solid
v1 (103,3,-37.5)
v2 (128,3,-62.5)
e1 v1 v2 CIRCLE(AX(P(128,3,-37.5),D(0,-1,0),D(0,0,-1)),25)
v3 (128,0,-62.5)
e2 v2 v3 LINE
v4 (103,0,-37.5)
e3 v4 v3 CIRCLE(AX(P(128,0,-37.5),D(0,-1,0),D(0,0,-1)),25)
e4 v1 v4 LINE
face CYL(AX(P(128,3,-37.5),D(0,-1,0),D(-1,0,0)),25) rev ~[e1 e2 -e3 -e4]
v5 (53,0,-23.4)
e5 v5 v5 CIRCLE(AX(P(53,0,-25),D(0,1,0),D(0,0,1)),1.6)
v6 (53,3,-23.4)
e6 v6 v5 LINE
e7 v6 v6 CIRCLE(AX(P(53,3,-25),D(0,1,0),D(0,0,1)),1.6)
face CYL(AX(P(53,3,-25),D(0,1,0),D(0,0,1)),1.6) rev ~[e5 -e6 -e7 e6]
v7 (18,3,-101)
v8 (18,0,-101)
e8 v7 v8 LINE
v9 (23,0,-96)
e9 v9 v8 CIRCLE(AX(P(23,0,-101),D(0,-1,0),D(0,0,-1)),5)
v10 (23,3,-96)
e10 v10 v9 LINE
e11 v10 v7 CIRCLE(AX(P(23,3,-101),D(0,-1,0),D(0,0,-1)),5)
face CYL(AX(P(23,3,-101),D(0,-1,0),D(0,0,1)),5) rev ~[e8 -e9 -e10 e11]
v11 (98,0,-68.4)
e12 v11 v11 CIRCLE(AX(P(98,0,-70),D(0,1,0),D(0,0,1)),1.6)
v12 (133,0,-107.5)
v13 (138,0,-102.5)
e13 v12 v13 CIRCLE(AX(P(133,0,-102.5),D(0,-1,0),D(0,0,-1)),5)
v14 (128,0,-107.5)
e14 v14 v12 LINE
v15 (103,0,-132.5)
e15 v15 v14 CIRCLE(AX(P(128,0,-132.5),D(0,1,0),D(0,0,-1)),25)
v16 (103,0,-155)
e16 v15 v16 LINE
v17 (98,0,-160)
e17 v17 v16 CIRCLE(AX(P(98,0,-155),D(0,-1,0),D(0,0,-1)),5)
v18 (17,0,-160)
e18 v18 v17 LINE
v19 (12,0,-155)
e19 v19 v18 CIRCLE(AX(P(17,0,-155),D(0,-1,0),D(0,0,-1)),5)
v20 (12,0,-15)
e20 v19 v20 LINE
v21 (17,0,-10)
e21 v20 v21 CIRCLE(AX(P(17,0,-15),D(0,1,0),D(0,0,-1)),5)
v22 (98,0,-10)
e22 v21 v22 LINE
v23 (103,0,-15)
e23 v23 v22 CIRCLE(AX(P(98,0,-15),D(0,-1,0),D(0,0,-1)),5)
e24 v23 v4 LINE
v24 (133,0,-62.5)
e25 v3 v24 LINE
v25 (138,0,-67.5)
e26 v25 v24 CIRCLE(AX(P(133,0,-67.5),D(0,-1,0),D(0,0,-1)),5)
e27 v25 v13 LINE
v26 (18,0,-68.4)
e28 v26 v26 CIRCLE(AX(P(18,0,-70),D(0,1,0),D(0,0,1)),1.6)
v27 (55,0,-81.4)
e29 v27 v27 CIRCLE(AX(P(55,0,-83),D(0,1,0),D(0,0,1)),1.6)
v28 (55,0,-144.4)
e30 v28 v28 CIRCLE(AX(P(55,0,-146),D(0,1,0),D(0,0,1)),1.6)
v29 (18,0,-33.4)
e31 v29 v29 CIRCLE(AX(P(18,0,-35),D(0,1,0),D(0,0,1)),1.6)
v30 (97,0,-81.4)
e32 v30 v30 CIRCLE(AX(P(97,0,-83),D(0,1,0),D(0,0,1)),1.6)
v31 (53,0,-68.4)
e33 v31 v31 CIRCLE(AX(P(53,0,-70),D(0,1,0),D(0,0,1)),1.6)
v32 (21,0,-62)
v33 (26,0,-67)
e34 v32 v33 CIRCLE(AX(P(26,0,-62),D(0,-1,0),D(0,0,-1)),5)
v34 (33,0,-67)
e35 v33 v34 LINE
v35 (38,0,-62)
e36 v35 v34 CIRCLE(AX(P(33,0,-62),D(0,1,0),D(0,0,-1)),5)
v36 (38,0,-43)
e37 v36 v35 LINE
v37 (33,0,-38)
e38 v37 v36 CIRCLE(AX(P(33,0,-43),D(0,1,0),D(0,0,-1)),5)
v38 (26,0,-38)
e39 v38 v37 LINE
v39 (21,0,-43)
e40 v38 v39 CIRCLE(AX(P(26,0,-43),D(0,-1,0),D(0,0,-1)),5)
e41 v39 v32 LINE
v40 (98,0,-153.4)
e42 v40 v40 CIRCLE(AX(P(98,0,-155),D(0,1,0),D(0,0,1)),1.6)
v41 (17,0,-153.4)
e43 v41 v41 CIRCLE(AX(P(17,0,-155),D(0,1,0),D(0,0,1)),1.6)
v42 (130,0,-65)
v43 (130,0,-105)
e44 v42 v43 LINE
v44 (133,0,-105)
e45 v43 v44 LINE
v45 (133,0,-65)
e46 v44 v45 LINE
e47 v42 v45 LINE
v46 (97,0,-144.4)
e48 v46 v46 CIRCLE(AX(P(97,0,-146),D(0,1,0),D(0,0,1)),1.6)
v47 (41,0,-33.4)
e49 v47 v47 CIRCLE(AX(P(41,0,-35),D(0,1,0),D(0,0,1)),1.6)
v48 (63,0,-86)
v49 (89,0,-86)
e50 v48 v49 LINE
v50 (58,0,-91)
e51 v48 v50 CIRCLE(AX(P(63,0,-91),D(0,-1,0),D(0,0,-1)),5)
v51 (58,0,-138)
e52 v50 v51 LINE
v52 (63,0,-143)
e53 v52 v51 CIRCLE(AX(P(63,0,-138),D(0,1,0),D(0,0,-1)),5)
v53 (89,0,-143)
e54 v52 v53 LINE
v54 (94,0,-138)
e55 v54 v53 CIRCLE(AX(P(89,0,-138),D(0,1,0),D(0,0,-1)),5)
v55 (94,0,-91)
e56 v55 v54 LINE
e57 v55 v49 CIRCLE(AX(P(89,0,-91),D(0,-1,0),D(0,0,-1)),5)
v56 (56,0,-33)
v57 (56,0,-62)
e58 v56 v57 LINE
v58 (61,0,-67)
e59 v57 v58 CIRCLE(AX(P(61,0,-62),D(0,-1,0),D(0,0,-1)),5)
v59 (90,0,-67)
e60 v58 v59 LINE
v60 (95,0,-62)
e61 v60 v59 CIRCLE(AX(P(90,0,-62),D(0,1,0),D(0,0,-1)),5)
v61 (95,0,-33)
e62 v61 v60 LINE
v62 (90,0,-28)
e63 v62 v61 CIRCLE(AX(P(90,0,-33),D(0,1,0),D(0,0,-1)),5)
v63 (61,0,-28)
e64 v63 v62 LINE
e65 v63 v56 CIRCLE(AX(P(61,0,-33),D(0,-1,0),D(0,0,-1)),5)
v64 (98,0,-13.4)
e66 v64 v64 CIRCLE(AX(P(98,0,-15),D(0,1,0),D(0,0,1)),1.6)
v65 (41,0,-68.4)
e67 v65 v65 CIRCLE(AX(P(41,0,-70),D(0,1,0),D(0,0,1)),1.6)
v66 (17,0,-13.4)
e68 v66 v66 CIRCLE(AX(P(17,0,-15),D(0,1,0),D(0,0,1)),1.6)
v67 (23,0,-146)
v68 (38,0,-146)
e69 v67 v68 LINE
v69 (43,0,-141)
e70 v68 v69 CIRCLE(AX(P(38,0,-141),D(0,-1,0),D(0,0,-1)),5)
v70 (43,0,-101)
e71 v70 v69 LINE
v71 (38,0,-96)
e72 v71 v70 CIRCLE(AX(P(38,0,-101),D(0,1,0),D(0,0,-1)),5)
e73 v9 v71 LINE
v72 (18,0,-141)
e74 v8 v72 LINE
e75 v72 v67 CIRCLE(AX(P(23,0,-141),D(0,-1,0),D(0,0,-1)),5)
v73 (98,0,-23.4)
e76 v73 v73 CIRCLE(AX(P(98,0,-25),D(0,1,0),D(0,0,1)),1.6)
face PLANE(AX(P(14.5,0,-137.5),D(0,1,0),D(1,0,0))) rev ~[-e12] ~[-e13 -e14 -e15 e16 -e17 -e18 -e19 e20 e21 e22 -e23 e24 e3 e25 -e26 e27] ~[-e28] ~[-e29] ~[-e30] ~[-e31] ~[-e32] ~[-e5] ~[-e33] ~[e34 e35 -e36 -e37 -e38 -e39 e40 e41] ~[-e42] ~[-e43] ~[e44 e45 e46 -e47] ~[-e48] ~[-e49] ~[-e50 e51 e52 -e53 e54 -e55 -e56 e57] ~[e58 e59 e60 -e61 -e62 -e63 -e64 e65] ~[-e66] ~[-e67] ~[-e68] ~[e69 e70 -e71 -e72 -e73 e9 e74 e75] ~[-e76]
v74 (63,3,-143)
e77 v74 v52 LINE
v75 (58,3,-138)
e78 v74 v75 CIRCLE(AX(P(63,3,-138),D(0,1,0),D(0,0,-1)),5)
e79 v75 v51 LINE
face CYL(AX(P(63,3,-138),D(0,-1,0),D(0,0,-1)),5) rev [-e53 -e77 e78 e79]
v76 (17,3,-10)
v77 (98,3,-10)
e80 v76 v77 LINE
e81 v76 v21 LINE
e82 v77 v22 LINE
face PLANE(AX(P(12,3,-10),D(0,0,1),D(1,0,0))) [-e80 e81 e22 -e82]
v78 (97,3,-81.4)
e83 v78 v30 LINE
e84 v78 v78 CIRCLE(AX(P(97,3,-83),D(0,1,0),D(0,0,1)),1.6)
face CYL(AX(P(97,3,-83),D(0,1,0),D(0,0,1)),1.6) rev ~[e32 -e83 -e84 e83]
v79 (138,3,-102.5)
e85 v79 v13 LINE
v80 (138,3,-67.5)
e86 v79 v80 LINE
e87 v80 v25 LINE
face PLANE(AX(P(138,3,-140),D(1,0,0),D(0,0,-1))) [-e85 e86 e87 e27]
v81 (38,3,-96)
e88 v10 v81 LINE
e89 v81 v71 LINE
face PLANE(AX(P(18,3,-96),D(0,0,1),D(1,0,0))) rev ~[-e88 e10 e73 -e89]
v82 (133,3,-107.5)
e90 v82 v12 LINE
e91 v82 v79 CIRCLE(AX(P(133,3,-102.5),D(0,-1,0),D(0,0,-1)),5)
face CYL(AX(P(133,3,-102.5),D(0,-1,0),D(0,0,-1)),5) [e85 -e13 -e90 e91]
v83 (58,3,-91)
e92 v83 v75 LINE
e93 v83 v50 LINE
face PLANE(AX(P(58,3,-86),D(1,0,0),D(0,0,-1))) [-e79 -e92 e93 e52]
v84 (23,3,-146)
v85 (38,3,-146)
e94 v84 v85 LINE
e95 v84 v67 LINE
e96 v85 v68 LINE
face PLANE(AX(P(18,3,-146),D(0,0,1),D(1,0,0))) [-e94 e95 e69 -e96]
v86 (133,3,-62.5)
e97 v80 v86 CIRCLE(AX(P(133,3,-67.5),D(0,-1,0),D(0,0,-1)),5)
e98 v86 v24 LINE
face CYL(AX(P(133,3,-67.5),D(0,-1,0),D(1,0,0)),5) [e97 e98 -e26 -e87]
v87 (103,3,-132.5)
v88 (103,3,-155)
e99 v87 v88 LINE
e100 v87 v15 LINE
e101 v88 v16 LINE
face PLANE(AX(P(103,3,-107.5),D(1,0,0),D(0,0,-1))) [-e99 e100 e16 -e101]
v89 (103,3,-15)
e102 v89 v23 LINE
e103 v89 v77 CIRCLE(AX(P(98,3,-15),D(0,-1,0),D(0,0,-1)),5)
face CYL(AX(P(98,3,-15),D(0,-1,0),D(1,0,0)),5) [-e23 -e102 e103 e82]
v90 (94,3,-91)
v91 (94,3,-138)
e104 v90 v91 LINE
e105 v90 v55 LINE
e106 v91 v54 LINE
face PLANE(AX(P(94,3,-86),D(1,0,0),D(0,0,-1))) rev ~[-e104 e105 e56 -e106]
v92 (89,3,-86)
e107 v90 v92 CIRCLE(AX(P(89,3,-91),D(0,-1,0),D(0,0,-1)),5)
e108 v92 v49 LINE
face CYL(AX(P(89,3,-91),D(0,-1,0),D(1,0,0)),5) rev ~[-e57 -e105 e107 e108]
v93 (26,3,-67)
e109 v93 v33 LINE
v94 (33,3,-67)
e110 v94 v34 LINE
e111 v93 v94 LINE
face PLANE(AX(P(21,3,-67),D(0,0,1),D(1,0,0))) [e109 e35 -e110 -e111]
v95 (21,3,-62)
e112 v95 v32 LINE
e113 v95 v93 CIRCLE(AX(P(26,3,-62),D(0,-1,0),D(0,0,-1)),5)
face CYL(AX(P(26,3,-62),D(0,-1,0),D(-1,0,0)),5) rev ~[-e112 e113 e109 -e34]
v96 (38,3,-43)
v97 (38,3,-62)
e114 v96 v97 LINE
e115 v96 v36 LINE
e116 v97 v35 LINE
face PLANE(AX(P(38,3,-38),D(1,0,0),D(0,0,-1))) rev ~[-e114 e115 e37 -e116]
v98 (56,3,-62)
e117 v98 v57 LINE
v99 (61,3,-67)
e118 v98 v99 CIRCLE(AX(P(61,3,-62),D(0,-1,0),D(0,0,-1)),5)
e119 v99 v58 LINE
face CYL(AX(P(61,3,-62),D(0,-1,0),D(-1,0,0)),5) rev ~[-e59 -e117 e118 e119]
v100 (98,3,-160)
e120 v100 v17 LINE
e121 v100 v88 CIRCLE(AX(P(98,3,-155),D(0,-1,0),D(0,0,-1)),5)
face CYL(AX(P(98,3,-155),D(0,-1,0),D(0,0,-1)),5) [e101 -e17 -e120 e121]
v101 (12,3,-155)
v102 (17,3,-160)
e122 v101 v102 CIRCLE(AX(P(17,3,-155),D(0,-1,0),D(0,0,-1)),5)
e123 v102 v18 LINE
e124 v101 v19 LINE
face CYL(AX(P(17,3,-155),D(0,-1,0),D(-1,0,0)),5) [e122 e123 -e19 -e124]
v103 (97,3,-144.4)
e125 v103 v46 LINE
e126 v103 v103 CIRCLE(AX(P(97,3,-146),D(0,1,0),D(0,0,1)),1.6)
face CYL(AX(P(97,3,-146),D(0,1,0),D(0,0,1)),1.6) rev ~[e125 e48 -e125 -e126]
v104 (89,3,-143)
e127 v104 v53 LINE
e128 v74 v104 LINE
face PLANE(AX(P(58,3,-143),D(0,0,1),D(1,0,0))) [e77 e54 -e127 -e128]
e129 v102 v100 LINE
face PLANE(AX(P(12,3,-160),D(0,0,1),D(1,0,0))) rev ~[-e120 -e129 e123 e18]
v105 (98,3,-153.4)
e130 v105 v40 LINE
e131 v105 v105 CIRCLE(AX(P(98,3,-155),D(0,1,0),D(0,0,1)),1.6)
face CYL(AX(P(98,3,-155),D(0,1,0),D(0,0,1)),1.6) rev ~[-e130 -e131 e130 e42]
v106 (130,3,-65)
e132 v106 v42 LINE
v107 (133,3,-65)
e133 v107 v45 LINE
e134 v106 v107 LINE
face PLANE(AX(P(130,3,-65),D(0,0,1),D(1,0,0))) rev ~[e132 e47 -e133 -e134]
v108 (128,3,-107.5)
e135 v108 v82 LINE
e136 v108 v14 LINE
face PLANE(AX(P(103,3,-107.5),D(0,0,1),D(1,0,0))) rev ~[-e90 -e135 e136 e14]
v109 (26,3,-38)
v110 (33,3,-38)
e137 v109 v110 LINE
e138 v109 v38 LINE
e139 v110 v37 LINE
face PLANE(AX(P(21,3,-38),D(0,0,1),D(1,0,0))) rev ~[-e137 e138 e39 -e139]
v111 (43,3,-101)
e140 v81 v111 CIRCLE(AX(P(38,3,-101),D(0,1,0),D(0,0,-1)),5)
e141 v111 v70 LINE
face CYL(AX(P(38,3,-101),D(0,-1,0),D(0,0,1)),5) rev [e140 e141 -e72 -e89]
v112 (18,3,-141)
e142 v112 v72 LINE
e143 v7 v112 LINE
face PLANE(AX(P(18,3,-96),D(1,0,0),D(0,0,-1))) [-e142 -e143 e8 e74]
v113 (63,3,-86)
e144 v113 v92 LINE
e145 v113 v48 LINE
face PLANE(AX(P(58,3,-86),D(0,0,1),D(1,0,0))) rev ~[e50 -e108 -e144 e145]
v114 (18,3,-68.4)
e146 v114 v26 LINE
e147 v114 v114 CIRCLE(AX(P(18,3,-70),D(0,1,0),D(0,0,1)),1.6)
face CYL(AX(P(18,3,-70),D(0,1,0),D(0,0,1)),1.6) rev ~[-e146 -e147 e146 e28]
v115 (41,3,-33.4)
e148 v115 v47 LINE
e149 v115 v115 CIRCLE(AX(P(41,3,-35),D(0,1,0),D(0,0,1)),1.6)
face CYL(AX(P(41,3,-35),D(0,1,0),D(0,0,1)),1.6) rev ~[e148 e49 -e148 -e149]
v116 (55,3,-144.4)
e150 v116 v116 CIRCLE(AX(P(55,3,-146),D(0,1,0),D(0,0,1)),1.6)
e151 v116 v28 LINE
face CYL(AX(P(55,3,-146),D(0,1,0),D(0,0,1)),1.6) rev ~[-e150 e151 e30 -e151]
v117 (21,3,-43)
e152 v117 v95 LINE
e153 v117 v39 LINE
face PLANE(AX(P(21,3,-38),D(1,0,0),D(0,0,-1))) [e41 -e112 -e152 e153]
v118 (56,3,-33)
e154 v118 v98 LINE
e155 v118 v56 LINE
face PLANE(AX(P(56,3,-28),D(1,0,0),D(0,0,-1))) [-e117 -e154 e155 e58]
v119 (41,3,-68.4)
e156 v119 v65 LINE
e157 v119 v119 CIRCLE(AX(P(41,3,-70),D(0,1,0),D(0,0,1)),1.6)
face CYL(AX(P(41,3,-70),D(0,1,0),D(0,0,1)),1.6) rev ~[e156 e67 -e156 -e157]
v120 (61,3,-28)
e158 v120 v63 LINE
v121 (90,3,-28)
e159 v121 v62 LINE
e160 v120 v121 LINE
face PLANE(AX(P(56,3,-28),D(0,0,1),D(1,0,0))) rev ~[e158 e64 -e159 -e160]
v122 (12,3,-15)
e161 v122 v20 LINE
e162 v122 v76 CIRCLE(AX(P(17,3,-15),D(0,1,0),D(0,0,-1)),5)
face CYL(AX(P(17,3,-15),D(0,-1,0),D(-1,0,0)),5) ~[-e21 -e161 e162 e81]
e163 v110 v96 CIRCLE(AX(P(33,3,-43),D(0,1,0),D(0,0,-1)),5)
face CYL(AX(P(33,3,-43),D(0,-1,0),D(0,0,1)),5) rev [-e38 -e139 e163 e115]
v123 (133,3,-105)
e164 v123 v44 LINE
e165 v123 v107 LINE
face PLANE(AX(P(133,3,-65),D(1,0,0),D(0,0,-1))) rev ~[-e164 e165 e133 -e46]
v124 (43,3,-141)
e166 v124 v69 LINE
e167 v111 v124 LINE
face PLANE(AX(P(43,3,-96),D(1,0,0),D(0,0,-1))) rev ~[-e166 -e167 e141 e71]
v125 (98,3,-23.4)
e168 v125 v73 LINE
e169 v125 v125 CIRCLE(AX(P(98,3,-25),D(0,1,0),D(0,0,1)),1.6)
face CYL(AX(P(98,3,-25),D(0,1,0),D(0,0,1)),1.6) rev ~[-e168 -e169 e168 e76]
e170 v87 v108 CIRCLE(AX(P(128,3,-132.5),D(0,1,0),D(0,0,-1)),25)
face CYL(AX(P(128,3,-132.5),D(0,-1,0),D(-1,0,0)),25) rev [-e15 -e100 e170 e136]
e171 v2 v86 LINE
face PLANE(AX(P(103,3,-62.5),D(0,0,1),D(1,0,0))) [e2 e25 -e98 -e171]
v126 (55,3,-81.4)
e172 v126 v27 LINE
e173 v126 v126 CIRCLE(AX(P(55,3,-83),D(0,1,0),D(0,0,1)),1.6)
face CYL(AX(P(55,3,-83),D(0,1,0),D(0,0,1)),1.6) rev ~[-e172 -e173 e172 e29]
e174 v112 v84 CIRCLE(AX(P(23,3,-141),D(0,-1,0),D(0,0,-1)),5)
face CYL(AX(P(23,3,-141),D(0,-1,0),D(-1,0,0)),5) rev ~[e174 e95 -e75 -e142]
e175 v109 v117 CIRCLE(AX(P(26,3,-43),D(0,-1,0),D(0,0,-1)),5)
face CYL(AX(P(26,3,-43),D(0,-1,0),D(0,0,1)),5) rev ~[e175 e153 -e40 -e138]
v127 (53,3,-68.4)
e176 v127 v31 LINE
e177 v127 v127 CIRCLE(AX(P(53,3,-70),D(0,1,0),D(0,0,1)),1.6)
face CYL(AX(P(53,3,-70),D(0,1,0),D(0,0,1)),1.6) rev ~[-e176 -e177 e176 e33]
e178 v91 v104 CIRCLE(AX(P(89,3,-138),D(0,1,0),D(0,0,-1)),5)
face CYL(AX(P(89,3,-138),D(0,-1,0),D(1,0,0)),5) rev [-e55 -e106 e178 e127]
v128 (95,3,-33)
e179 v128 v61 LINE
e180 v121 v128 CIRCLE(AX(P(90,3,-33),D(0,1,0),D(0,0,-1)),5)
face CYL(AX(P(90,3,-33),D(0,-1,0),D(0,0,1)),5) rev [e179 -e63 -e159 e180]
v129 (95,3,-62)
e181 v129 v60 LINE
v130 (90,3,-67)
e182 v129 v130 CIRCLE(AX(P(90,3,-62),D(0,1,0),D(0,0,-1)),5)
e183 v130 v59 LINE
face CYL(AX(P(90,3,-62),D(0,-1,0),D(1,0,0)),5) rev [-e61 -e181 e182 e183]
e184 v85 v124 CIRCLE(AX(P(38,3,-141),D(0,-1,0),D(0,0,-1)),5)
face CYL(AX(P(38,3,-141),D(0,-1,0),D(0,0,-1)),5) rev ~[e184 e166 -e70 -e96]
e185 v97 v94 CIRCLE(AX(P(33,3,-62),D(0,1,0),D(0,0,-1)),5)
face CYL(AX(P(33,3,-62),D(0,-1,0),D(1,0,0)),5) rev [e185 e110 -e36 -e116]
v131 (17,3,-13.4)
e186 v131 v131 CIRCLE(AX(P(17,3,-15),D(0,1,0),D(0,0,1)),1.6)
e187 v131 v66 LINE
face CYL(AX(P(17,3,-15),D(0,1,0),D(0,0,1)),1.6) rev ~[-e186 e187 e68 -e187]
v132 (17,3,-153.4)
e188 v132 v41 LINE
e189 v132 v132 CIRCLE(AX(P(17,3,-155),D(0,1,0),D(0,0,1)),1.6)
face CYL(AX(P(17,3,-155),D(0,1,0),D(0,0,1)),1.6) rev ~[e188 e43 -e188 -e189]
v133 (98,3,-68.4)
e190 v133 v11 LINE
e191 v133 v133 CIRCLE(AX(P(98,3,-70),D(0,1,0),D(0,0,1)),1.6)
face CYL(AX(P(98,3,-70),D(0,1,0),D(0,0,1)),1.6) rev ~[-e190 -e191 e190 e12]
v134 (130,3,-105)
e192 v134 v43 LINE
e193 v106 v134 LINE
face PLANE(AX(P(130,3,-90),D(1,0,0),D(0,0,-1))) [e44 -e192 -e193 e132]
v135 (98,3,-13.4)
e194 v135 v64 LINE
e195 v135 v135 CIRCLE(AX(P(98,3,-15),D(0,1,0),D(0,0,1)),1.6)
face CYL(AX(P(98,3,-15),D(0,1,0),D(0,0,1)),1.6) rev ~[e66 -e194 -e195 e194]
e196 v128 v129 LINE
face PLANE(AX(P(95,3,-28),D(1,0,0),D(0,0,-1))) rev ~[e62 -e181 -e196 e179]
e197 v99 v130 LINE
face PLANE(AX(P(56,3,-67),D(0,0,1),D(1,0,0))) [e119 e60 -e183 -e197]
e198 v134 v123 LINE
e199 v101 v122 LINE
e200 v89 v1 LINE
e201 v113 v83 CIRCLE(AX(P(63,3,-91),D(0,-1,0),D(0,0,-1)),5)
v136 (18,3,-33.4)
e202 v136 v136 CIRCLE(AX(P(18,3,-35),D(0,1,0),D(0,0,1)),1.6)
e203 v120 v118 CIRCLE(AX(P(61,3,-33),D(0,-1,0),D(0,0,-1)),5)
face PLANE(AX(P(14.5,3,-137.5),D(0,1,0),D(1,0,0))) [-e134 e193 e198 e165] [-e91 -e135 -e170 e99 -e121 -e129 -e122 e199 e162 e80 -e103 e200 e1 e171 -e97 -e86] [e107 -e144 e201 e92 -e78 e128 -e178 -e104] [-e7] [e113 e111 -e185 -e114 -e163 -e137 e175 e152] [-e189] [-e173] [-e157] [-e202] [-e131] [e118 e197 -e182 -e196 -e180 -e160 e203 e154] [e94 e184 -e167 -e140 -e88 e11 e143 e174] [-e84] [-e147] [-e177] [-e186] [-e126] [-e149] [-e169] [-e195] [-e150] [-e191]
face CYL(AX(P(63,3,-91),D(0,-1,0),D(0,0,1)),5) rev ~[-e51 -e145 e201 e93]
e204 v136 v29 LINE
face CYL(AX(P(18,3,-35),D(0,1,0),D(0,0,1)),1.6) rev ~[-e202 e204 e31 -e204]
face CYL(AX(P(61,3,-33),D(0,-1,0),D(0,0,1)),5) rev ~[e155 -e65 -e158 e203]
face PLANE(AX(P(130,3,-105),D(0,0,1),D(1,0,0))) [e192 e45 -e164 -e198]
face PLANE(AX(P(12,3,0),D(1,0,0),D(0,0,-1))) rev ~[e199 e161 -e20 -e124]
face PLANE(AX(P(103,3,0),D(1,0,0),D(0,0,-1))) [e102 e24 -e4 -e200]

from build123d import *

# Parameters (mm, degrees)
SKETCH1_W           = 138
SKETCH1_H           = 170
BOSS_EXTRUDE1_DEPTH = 3
SKETCH2_R           = 2.1
SKETCH2_W           = 29
SKETCH2_H           = 30
CUT_EXTRUDE1_DEPTH  = 3
SKETCH3_R           = 2.1
CUT_EXTRUDE2_DEPTH  = 219.981734398
SKETCH5_W           = 29
SKETCH5_H           = 35
CUT_EXTRUDE3_DEPTH  = 219.981734398
SKETCH6_R           = 1.6
SKETCH6_W           = 3
SKETCH6_H           = 15
CUT_EXTRUDE4_DEPTH  = 219.981734398
SKETCH9_W           = 29
SKETCH9_H           = 30
BOSS_EXTRUDE2_DEPTH = 3
SKETCH15_W          = 29
SKETCH15_H          = 65
BOSS_EXTRUDE3_DEPTH = 3
SKETCH14_R          = 1.6
SKETCH14_W          = 25
SKETCH14_H          = 50
SKETCH14_W_2        = 36
SKETCH14_H_2        = 57
SKETCH14_W_3        = 39
SKETCH14_H_3        = 39
SKETCH14_W_4        = 17
SKETCH14_H_4        = 29
CUT_EXTRUDE8_DEPTH  = 219.981734398
SKETCH16_W          = 35
SKETCH16_H          = 62.5
SKETCH16_W_2        = 12
SKETCH16_H_2        = 170
CUT_EXTRUDE9_DEPTH  = 219.981734398
SKETCH17_W          = 3
SKETCH17_H          = 40
SKETCH17_W_2        = 91
SKETCH17_H_2        = 10
CUT_EXTRUDE10_DEPTH = 219.981734398
SKETCH18_W          = 10
SKETCH18_H          = 10
BOSS_EXTRUDE4_DEPTH = 3
FILLET5_R           = 5
FILLET6_R           = 25
FILLET7_R           = 5
SKETCH20_R          = 1.6
CUT_EXTRUDE11_DEPTH = 212.3125647
FILLET8_R           = 5


with BuildPart() as part:
    # Sketch1 → Boss-Extrude1 (new body)
    with BuildSketch(Plane(origin=(0, 0, 0), x_dir=(1, 0, 0), z_dir=(0, 1, 0))):
        with Locations((69, 85)):
            Rectangle(SKETCH1_W, SKETCH1_H)
    extrude(amount=BOSS_EXTRUDE1_DEPTH)

    # Sketch2 → Cut-Extrude1 (cut)
    with BuildSketch(Plane(origin=(0, 3, 0), x_dir=(1, 0, 0), z_dir=(0, 1, 0))):
        with Locations(Location((69, 165, 0), (0, 0, 270))):
            Circle(SKETCH2_R)
        with Locations(Location((69, 5, 0), (0, 0, 270))):
            Circle(SKETCH2_R)
        with Locations((14.5, 155)):
            Rectangle(SKETCH2_W, SKETCH2_H)
        with Locations((123.5, 155)):
            Rectangle(SKETCH2_W, SKETCH2_H)
        with Locations((123.5, 15)):
            Rectangle(SKETCH2_W, SKETCH2_H)
        with Locations((14.5, 15)):
            Rectangle(SKETCH2_W, SKETCH2_H)
    extrude(amount=-CUT_EXTRUDE1_DEPTH, mode=Mode.SUBTRACT)

    # Sketch3 → Cut-Extrude2 (cut, through all)
    with BuildSketch(Plane(origin=(0, 3, 0), x_dir=(1, 0, 0), z_dir=(0, 1, 0))):
        with Locations(Location((14, 125, 0), (0, 0, 270))):
            Circle(SKETCH3_R)
        with Locations(Location((14, 45, 0), (0, 0, 270))):
            Circle(SKETCH3_R)
        with Locations(Location((14, 85, 0), (0, 0, 270))):
            Circle(SKETCH3_R)
        with Locations(Location((124, 45, 0), (0, 0, 90))):
            Circle(SKETCH3_R)
        with Locations(Location((124, 125, 0), (0, 0, 90))):
            Circle(SKETCH3_R)
    extrude(amount=-CUT_EXTRUDE2_DEPTH, mode=Mode.SUBTRACT)

    # Sketch5 → Cut-Extrude3 (cut, through all)
    with BuildSketch(Plane(origin=(0, 3, 0), x_dir=(1, 0, 0), z_dir=(0, 1, 0))):
        with Locations((14.5, 122.5)):
            Rectangle(SKETCH5_W, SKETCH5_H)
        with Locations((14.5, 47.5)):
            Rectangle(SKETCH5_W, SKETCH5_H)
    extrude(amount=-CUT_EXTRUDE3_DEPTH, mode=Mode.SUBTRACT)

    # Sketch6 → Cut-Extrude4 (cut, through all)
    with BuildSketch(Plane(origin=(0, 3, 0), x_dir=(1, 0, 0), z_dir=(0, 1, 0))):
        with Locations(Location((131.5, 113, 0), (0, 0, 270))):
            Circle(SKETCH6_R)
        with Locations(Location((131.5, 57, 0), (0, 0, 270))):
            Circle(SKETCH6_R)
        with Locations((131.5, 97.5)):
            Rectangle(SKETCH6_W, SKETCH6_H)
        with Locations((131.5, 72.5)):
            Rectangle(SKETCH6_W, SKETCH6_H)
    extrude(amount=-CUT_EXTRUDE4_DEPTH, mode=Mode.SUBTRACT)

    # Sketch9 → Boss-Extrude2 (add)
    with BuildSketch(Plane(origin=(0, 3, 0), x_dir=(1, 0, 0), z_dir=(0, 1, 0))):
        with Locations((123.5, 155)):
            Rectangle(SKETCH9_W, SKETCH9_H)
        with Locations((123.5, 15)):
            Rectangle(SKETCH9_W, SKETCH9_H)
    extrude(amount=-BOSS_EXTRUDE2_DEPTH)

    # Sketch15 → Boss-Extrude3 (add)
    with BuildSketch(Plane(origin=(0, 3, 0), x_dir=(1, 0, 0), z_dir=(0, 1, 0))):
        with Locations((14.5, 137.5)):
            Rectangle(SKETCH15_W, SKETCH15_H)
        with Locations((14.5, 32.5)):
            Rectangle(SKETCH15_W, SKETCH15_H)
    extrude(amount=-BOSS_EXTRUDE3_DEPTH)

    # Sketch14 → Cut-Extrude8 (cut, through all)
    with BuildSketch(Plane(origin=(0, 3, 0), x_dir=(1, 0, 0), z_dir=(0, 1, 0))):
        with Locations(Location((55, 146, 0), (0, 0, 270))):
            Circle(SKETCH14_R)
        with Locations(Location((97, 146, 0), (0, 0, 270))):
            Circle(SKETCH14_R)
        with Locations(Location((55, 83, 0), (0, 0, 270))):
            Circle(SKETCH14_R)
        with Locations(Location((97, 83, 0), (0, 0, 270))):
            Circle(SKETCH14_R)
        with Locations(Location((53, 70, 0), (0, 0, 270))):
            Circle(SKETCH14_R)
        with Locations(Location((98, 70, 0), (0, 0, 270))):
            Circle(SKETCH14_R)
        with Locations(Location((53, 25, 0), (0, 0, 270))):
            Circle(SKETCH14_R)
        with Locations(Location((98, 25, 0), (0, 0, 270))):
            Circle(SKETCH14_R)
        with Locations(Location((41, 70, 0), (0, 0, 270))):
            Circle(SKETCH14_R)
        with Locations(Location((18, 70, 0), (0, 0, 270))):
            Circle(SKETCH14_R)
        with Locations(Location((18, 35, 0), (0, 0, 270))):
            Circle(SKETCH14_R)
        with Locations(Location((41, 35, 0), (0, 0, 270))):
            Circle(SKETCH14_R)
        with Locations((30.5, 121)):
            Rectangle(SKETCH14_W, SKETCH14_H)
        with Locations((76, 114.5)):
            Rectangle(SKETCH14_W_2, SKETCH14_H_2)
        with Locations((75.5, 47.5)):
            Rectangle(SKETCH14_W_3, SKETCH14_H_3)
        with Locations((29.5, 52.5)):
            Rectangle(SKETCH14_W_4, SKETCH14_H_4)
    extrude(amount=-CUT_EXTRUDE8_DEPTH, mode=Mode.SUBTRACT)

    # Sketch16 → Cut-Extrude9 (cut, through all)
    with BuildSketch(Plane(origin=(0, 3, 0), x_dir=(1, 0, 0), z_dir=(0, 1, 0))):
        with Locations((120.5, 138.75)):
            Rectangle(SKETCH16_W, SKETCH16_H)
        with Locations((120.5, 31.25)):
            Rectangle(SKETCH16_W, SKETCH16_H)
        with Locations((6, 85)):
            Rectangle(SKETCH16_W_2, SKETCH16_H_2)
    extrude(amount=-CUT_EXTRUDE9_DEPTH, mode=Mode.SUBTRACT)

    # Sketch17 → Cut-Extrude10 (cut, through all)
    with BuildSketch(Plane(origin=(0, 3, 0), x_dir=(1, 0, 0), z_dir=(0, 1, 0))):
        with Locations((131.5, 85)):
            Rectangle(SKETCH17_W, SKETCH17_H)
        with Locations((57.5, 165)):
            Rectangle(SKETCH17_W_2, SKETCH17_H_2)
        with Locations((57.5, 5)):
            Rectangle(SKETCH17_W_2, SKETCH17_H_2)
    extrude(amount=-CUT_EXTRUDE10_DEPTH, mode=Mode.SUBTRACT)

    # Sketch18 → Boss-Extrude4 (add)
    with BuildSketch(Plane(origin=(0, 3, 0), x_dir=(1, 0, 0), z_dir=(0, 1, 0))):
        with Locations((17, 85)):
            Rectangle(SKETCH18_W, SKETCH18_H)
    extrude(amount=-BOSS_EXTRUDE4_DEPTH)

    # Fillet5
    fillet5_edges = [part.edges().sort_by_distance(p)[0] for p in [
        (138, 1.5, -62.5),
        (138, 1.5, -107.5),
        (12, 1.5, -160),
        (103, 1.5, -160),
        (12, 1.5, -10),
        (103, 1.5, -10),
    ]]
    fillet(fillet5_edges, radius=FILLET5_R)

    # Fillet6
    fillet6_edges = [part.edges().sort_by_distance(p)[0] for p in [
        (103, 1.5, -62.5),
        (103, 1.5, -107.5),
    ]]
    fillet(fillet6_edges, radius=FILLET6_R)

    # Fillet7
    fillet7_edges = [part.edges().sort_by_distance(p)[0] for p in [
        (18, 1.5, -96),
        (18, 1.5, -146),
        (43, 1.5, -146),
        (43, 1.5, -96),
    ]]
    fillet(fillet7_edges, radius=FILLET7_R)

    # Sketch20 → Cut-Extrude11 (cut, through all)
    with BuildSketch(Plane(origin=(0, 3, 0), x_dir=(1, 0, 0), z_dir=(0, 1, 0))):
        with Locations(Location((17, 155, 0), (0, 0, 270))):
            Circle(SKETCH20_R)
        with Locations(Location((98, 155, 0), (0, 0, 270))):
            Circle(SKETCH20_R)
        with Locations(Location((17, 15, 0), (0, 0, 270))):
            Circle(SKETCH20_R)
        with Locations(Location((98, 15, 0), (0, 0, 270))):
            Circle(SKETCH20_R)
    extrude(amount=-CUT_EXTRUDE11_DEPTH, mode=Mode.SUBTRACT)

    # Fillet8
    fillet8_edges = [part.edges().sort_by_distance(p)[0] for p in [
        (56, 1.5, -28),
        (56, 1.5, -67),
        (95, 1.5, -67),
        (95, 1.5, -28),
        (38, 1.5, -38),
        (21, 1.5, -38),
        (21, 1.5, -67),
        (38, 1.5, -67),
        (58, 1.5, -86),
        (58, 1.5, -143),
        (94, 1.5, -143),
        (94, 1.5, -86),
    ]]
    fillet(fillet8_edges, radius=FILLET8_R)


solid = part.part
